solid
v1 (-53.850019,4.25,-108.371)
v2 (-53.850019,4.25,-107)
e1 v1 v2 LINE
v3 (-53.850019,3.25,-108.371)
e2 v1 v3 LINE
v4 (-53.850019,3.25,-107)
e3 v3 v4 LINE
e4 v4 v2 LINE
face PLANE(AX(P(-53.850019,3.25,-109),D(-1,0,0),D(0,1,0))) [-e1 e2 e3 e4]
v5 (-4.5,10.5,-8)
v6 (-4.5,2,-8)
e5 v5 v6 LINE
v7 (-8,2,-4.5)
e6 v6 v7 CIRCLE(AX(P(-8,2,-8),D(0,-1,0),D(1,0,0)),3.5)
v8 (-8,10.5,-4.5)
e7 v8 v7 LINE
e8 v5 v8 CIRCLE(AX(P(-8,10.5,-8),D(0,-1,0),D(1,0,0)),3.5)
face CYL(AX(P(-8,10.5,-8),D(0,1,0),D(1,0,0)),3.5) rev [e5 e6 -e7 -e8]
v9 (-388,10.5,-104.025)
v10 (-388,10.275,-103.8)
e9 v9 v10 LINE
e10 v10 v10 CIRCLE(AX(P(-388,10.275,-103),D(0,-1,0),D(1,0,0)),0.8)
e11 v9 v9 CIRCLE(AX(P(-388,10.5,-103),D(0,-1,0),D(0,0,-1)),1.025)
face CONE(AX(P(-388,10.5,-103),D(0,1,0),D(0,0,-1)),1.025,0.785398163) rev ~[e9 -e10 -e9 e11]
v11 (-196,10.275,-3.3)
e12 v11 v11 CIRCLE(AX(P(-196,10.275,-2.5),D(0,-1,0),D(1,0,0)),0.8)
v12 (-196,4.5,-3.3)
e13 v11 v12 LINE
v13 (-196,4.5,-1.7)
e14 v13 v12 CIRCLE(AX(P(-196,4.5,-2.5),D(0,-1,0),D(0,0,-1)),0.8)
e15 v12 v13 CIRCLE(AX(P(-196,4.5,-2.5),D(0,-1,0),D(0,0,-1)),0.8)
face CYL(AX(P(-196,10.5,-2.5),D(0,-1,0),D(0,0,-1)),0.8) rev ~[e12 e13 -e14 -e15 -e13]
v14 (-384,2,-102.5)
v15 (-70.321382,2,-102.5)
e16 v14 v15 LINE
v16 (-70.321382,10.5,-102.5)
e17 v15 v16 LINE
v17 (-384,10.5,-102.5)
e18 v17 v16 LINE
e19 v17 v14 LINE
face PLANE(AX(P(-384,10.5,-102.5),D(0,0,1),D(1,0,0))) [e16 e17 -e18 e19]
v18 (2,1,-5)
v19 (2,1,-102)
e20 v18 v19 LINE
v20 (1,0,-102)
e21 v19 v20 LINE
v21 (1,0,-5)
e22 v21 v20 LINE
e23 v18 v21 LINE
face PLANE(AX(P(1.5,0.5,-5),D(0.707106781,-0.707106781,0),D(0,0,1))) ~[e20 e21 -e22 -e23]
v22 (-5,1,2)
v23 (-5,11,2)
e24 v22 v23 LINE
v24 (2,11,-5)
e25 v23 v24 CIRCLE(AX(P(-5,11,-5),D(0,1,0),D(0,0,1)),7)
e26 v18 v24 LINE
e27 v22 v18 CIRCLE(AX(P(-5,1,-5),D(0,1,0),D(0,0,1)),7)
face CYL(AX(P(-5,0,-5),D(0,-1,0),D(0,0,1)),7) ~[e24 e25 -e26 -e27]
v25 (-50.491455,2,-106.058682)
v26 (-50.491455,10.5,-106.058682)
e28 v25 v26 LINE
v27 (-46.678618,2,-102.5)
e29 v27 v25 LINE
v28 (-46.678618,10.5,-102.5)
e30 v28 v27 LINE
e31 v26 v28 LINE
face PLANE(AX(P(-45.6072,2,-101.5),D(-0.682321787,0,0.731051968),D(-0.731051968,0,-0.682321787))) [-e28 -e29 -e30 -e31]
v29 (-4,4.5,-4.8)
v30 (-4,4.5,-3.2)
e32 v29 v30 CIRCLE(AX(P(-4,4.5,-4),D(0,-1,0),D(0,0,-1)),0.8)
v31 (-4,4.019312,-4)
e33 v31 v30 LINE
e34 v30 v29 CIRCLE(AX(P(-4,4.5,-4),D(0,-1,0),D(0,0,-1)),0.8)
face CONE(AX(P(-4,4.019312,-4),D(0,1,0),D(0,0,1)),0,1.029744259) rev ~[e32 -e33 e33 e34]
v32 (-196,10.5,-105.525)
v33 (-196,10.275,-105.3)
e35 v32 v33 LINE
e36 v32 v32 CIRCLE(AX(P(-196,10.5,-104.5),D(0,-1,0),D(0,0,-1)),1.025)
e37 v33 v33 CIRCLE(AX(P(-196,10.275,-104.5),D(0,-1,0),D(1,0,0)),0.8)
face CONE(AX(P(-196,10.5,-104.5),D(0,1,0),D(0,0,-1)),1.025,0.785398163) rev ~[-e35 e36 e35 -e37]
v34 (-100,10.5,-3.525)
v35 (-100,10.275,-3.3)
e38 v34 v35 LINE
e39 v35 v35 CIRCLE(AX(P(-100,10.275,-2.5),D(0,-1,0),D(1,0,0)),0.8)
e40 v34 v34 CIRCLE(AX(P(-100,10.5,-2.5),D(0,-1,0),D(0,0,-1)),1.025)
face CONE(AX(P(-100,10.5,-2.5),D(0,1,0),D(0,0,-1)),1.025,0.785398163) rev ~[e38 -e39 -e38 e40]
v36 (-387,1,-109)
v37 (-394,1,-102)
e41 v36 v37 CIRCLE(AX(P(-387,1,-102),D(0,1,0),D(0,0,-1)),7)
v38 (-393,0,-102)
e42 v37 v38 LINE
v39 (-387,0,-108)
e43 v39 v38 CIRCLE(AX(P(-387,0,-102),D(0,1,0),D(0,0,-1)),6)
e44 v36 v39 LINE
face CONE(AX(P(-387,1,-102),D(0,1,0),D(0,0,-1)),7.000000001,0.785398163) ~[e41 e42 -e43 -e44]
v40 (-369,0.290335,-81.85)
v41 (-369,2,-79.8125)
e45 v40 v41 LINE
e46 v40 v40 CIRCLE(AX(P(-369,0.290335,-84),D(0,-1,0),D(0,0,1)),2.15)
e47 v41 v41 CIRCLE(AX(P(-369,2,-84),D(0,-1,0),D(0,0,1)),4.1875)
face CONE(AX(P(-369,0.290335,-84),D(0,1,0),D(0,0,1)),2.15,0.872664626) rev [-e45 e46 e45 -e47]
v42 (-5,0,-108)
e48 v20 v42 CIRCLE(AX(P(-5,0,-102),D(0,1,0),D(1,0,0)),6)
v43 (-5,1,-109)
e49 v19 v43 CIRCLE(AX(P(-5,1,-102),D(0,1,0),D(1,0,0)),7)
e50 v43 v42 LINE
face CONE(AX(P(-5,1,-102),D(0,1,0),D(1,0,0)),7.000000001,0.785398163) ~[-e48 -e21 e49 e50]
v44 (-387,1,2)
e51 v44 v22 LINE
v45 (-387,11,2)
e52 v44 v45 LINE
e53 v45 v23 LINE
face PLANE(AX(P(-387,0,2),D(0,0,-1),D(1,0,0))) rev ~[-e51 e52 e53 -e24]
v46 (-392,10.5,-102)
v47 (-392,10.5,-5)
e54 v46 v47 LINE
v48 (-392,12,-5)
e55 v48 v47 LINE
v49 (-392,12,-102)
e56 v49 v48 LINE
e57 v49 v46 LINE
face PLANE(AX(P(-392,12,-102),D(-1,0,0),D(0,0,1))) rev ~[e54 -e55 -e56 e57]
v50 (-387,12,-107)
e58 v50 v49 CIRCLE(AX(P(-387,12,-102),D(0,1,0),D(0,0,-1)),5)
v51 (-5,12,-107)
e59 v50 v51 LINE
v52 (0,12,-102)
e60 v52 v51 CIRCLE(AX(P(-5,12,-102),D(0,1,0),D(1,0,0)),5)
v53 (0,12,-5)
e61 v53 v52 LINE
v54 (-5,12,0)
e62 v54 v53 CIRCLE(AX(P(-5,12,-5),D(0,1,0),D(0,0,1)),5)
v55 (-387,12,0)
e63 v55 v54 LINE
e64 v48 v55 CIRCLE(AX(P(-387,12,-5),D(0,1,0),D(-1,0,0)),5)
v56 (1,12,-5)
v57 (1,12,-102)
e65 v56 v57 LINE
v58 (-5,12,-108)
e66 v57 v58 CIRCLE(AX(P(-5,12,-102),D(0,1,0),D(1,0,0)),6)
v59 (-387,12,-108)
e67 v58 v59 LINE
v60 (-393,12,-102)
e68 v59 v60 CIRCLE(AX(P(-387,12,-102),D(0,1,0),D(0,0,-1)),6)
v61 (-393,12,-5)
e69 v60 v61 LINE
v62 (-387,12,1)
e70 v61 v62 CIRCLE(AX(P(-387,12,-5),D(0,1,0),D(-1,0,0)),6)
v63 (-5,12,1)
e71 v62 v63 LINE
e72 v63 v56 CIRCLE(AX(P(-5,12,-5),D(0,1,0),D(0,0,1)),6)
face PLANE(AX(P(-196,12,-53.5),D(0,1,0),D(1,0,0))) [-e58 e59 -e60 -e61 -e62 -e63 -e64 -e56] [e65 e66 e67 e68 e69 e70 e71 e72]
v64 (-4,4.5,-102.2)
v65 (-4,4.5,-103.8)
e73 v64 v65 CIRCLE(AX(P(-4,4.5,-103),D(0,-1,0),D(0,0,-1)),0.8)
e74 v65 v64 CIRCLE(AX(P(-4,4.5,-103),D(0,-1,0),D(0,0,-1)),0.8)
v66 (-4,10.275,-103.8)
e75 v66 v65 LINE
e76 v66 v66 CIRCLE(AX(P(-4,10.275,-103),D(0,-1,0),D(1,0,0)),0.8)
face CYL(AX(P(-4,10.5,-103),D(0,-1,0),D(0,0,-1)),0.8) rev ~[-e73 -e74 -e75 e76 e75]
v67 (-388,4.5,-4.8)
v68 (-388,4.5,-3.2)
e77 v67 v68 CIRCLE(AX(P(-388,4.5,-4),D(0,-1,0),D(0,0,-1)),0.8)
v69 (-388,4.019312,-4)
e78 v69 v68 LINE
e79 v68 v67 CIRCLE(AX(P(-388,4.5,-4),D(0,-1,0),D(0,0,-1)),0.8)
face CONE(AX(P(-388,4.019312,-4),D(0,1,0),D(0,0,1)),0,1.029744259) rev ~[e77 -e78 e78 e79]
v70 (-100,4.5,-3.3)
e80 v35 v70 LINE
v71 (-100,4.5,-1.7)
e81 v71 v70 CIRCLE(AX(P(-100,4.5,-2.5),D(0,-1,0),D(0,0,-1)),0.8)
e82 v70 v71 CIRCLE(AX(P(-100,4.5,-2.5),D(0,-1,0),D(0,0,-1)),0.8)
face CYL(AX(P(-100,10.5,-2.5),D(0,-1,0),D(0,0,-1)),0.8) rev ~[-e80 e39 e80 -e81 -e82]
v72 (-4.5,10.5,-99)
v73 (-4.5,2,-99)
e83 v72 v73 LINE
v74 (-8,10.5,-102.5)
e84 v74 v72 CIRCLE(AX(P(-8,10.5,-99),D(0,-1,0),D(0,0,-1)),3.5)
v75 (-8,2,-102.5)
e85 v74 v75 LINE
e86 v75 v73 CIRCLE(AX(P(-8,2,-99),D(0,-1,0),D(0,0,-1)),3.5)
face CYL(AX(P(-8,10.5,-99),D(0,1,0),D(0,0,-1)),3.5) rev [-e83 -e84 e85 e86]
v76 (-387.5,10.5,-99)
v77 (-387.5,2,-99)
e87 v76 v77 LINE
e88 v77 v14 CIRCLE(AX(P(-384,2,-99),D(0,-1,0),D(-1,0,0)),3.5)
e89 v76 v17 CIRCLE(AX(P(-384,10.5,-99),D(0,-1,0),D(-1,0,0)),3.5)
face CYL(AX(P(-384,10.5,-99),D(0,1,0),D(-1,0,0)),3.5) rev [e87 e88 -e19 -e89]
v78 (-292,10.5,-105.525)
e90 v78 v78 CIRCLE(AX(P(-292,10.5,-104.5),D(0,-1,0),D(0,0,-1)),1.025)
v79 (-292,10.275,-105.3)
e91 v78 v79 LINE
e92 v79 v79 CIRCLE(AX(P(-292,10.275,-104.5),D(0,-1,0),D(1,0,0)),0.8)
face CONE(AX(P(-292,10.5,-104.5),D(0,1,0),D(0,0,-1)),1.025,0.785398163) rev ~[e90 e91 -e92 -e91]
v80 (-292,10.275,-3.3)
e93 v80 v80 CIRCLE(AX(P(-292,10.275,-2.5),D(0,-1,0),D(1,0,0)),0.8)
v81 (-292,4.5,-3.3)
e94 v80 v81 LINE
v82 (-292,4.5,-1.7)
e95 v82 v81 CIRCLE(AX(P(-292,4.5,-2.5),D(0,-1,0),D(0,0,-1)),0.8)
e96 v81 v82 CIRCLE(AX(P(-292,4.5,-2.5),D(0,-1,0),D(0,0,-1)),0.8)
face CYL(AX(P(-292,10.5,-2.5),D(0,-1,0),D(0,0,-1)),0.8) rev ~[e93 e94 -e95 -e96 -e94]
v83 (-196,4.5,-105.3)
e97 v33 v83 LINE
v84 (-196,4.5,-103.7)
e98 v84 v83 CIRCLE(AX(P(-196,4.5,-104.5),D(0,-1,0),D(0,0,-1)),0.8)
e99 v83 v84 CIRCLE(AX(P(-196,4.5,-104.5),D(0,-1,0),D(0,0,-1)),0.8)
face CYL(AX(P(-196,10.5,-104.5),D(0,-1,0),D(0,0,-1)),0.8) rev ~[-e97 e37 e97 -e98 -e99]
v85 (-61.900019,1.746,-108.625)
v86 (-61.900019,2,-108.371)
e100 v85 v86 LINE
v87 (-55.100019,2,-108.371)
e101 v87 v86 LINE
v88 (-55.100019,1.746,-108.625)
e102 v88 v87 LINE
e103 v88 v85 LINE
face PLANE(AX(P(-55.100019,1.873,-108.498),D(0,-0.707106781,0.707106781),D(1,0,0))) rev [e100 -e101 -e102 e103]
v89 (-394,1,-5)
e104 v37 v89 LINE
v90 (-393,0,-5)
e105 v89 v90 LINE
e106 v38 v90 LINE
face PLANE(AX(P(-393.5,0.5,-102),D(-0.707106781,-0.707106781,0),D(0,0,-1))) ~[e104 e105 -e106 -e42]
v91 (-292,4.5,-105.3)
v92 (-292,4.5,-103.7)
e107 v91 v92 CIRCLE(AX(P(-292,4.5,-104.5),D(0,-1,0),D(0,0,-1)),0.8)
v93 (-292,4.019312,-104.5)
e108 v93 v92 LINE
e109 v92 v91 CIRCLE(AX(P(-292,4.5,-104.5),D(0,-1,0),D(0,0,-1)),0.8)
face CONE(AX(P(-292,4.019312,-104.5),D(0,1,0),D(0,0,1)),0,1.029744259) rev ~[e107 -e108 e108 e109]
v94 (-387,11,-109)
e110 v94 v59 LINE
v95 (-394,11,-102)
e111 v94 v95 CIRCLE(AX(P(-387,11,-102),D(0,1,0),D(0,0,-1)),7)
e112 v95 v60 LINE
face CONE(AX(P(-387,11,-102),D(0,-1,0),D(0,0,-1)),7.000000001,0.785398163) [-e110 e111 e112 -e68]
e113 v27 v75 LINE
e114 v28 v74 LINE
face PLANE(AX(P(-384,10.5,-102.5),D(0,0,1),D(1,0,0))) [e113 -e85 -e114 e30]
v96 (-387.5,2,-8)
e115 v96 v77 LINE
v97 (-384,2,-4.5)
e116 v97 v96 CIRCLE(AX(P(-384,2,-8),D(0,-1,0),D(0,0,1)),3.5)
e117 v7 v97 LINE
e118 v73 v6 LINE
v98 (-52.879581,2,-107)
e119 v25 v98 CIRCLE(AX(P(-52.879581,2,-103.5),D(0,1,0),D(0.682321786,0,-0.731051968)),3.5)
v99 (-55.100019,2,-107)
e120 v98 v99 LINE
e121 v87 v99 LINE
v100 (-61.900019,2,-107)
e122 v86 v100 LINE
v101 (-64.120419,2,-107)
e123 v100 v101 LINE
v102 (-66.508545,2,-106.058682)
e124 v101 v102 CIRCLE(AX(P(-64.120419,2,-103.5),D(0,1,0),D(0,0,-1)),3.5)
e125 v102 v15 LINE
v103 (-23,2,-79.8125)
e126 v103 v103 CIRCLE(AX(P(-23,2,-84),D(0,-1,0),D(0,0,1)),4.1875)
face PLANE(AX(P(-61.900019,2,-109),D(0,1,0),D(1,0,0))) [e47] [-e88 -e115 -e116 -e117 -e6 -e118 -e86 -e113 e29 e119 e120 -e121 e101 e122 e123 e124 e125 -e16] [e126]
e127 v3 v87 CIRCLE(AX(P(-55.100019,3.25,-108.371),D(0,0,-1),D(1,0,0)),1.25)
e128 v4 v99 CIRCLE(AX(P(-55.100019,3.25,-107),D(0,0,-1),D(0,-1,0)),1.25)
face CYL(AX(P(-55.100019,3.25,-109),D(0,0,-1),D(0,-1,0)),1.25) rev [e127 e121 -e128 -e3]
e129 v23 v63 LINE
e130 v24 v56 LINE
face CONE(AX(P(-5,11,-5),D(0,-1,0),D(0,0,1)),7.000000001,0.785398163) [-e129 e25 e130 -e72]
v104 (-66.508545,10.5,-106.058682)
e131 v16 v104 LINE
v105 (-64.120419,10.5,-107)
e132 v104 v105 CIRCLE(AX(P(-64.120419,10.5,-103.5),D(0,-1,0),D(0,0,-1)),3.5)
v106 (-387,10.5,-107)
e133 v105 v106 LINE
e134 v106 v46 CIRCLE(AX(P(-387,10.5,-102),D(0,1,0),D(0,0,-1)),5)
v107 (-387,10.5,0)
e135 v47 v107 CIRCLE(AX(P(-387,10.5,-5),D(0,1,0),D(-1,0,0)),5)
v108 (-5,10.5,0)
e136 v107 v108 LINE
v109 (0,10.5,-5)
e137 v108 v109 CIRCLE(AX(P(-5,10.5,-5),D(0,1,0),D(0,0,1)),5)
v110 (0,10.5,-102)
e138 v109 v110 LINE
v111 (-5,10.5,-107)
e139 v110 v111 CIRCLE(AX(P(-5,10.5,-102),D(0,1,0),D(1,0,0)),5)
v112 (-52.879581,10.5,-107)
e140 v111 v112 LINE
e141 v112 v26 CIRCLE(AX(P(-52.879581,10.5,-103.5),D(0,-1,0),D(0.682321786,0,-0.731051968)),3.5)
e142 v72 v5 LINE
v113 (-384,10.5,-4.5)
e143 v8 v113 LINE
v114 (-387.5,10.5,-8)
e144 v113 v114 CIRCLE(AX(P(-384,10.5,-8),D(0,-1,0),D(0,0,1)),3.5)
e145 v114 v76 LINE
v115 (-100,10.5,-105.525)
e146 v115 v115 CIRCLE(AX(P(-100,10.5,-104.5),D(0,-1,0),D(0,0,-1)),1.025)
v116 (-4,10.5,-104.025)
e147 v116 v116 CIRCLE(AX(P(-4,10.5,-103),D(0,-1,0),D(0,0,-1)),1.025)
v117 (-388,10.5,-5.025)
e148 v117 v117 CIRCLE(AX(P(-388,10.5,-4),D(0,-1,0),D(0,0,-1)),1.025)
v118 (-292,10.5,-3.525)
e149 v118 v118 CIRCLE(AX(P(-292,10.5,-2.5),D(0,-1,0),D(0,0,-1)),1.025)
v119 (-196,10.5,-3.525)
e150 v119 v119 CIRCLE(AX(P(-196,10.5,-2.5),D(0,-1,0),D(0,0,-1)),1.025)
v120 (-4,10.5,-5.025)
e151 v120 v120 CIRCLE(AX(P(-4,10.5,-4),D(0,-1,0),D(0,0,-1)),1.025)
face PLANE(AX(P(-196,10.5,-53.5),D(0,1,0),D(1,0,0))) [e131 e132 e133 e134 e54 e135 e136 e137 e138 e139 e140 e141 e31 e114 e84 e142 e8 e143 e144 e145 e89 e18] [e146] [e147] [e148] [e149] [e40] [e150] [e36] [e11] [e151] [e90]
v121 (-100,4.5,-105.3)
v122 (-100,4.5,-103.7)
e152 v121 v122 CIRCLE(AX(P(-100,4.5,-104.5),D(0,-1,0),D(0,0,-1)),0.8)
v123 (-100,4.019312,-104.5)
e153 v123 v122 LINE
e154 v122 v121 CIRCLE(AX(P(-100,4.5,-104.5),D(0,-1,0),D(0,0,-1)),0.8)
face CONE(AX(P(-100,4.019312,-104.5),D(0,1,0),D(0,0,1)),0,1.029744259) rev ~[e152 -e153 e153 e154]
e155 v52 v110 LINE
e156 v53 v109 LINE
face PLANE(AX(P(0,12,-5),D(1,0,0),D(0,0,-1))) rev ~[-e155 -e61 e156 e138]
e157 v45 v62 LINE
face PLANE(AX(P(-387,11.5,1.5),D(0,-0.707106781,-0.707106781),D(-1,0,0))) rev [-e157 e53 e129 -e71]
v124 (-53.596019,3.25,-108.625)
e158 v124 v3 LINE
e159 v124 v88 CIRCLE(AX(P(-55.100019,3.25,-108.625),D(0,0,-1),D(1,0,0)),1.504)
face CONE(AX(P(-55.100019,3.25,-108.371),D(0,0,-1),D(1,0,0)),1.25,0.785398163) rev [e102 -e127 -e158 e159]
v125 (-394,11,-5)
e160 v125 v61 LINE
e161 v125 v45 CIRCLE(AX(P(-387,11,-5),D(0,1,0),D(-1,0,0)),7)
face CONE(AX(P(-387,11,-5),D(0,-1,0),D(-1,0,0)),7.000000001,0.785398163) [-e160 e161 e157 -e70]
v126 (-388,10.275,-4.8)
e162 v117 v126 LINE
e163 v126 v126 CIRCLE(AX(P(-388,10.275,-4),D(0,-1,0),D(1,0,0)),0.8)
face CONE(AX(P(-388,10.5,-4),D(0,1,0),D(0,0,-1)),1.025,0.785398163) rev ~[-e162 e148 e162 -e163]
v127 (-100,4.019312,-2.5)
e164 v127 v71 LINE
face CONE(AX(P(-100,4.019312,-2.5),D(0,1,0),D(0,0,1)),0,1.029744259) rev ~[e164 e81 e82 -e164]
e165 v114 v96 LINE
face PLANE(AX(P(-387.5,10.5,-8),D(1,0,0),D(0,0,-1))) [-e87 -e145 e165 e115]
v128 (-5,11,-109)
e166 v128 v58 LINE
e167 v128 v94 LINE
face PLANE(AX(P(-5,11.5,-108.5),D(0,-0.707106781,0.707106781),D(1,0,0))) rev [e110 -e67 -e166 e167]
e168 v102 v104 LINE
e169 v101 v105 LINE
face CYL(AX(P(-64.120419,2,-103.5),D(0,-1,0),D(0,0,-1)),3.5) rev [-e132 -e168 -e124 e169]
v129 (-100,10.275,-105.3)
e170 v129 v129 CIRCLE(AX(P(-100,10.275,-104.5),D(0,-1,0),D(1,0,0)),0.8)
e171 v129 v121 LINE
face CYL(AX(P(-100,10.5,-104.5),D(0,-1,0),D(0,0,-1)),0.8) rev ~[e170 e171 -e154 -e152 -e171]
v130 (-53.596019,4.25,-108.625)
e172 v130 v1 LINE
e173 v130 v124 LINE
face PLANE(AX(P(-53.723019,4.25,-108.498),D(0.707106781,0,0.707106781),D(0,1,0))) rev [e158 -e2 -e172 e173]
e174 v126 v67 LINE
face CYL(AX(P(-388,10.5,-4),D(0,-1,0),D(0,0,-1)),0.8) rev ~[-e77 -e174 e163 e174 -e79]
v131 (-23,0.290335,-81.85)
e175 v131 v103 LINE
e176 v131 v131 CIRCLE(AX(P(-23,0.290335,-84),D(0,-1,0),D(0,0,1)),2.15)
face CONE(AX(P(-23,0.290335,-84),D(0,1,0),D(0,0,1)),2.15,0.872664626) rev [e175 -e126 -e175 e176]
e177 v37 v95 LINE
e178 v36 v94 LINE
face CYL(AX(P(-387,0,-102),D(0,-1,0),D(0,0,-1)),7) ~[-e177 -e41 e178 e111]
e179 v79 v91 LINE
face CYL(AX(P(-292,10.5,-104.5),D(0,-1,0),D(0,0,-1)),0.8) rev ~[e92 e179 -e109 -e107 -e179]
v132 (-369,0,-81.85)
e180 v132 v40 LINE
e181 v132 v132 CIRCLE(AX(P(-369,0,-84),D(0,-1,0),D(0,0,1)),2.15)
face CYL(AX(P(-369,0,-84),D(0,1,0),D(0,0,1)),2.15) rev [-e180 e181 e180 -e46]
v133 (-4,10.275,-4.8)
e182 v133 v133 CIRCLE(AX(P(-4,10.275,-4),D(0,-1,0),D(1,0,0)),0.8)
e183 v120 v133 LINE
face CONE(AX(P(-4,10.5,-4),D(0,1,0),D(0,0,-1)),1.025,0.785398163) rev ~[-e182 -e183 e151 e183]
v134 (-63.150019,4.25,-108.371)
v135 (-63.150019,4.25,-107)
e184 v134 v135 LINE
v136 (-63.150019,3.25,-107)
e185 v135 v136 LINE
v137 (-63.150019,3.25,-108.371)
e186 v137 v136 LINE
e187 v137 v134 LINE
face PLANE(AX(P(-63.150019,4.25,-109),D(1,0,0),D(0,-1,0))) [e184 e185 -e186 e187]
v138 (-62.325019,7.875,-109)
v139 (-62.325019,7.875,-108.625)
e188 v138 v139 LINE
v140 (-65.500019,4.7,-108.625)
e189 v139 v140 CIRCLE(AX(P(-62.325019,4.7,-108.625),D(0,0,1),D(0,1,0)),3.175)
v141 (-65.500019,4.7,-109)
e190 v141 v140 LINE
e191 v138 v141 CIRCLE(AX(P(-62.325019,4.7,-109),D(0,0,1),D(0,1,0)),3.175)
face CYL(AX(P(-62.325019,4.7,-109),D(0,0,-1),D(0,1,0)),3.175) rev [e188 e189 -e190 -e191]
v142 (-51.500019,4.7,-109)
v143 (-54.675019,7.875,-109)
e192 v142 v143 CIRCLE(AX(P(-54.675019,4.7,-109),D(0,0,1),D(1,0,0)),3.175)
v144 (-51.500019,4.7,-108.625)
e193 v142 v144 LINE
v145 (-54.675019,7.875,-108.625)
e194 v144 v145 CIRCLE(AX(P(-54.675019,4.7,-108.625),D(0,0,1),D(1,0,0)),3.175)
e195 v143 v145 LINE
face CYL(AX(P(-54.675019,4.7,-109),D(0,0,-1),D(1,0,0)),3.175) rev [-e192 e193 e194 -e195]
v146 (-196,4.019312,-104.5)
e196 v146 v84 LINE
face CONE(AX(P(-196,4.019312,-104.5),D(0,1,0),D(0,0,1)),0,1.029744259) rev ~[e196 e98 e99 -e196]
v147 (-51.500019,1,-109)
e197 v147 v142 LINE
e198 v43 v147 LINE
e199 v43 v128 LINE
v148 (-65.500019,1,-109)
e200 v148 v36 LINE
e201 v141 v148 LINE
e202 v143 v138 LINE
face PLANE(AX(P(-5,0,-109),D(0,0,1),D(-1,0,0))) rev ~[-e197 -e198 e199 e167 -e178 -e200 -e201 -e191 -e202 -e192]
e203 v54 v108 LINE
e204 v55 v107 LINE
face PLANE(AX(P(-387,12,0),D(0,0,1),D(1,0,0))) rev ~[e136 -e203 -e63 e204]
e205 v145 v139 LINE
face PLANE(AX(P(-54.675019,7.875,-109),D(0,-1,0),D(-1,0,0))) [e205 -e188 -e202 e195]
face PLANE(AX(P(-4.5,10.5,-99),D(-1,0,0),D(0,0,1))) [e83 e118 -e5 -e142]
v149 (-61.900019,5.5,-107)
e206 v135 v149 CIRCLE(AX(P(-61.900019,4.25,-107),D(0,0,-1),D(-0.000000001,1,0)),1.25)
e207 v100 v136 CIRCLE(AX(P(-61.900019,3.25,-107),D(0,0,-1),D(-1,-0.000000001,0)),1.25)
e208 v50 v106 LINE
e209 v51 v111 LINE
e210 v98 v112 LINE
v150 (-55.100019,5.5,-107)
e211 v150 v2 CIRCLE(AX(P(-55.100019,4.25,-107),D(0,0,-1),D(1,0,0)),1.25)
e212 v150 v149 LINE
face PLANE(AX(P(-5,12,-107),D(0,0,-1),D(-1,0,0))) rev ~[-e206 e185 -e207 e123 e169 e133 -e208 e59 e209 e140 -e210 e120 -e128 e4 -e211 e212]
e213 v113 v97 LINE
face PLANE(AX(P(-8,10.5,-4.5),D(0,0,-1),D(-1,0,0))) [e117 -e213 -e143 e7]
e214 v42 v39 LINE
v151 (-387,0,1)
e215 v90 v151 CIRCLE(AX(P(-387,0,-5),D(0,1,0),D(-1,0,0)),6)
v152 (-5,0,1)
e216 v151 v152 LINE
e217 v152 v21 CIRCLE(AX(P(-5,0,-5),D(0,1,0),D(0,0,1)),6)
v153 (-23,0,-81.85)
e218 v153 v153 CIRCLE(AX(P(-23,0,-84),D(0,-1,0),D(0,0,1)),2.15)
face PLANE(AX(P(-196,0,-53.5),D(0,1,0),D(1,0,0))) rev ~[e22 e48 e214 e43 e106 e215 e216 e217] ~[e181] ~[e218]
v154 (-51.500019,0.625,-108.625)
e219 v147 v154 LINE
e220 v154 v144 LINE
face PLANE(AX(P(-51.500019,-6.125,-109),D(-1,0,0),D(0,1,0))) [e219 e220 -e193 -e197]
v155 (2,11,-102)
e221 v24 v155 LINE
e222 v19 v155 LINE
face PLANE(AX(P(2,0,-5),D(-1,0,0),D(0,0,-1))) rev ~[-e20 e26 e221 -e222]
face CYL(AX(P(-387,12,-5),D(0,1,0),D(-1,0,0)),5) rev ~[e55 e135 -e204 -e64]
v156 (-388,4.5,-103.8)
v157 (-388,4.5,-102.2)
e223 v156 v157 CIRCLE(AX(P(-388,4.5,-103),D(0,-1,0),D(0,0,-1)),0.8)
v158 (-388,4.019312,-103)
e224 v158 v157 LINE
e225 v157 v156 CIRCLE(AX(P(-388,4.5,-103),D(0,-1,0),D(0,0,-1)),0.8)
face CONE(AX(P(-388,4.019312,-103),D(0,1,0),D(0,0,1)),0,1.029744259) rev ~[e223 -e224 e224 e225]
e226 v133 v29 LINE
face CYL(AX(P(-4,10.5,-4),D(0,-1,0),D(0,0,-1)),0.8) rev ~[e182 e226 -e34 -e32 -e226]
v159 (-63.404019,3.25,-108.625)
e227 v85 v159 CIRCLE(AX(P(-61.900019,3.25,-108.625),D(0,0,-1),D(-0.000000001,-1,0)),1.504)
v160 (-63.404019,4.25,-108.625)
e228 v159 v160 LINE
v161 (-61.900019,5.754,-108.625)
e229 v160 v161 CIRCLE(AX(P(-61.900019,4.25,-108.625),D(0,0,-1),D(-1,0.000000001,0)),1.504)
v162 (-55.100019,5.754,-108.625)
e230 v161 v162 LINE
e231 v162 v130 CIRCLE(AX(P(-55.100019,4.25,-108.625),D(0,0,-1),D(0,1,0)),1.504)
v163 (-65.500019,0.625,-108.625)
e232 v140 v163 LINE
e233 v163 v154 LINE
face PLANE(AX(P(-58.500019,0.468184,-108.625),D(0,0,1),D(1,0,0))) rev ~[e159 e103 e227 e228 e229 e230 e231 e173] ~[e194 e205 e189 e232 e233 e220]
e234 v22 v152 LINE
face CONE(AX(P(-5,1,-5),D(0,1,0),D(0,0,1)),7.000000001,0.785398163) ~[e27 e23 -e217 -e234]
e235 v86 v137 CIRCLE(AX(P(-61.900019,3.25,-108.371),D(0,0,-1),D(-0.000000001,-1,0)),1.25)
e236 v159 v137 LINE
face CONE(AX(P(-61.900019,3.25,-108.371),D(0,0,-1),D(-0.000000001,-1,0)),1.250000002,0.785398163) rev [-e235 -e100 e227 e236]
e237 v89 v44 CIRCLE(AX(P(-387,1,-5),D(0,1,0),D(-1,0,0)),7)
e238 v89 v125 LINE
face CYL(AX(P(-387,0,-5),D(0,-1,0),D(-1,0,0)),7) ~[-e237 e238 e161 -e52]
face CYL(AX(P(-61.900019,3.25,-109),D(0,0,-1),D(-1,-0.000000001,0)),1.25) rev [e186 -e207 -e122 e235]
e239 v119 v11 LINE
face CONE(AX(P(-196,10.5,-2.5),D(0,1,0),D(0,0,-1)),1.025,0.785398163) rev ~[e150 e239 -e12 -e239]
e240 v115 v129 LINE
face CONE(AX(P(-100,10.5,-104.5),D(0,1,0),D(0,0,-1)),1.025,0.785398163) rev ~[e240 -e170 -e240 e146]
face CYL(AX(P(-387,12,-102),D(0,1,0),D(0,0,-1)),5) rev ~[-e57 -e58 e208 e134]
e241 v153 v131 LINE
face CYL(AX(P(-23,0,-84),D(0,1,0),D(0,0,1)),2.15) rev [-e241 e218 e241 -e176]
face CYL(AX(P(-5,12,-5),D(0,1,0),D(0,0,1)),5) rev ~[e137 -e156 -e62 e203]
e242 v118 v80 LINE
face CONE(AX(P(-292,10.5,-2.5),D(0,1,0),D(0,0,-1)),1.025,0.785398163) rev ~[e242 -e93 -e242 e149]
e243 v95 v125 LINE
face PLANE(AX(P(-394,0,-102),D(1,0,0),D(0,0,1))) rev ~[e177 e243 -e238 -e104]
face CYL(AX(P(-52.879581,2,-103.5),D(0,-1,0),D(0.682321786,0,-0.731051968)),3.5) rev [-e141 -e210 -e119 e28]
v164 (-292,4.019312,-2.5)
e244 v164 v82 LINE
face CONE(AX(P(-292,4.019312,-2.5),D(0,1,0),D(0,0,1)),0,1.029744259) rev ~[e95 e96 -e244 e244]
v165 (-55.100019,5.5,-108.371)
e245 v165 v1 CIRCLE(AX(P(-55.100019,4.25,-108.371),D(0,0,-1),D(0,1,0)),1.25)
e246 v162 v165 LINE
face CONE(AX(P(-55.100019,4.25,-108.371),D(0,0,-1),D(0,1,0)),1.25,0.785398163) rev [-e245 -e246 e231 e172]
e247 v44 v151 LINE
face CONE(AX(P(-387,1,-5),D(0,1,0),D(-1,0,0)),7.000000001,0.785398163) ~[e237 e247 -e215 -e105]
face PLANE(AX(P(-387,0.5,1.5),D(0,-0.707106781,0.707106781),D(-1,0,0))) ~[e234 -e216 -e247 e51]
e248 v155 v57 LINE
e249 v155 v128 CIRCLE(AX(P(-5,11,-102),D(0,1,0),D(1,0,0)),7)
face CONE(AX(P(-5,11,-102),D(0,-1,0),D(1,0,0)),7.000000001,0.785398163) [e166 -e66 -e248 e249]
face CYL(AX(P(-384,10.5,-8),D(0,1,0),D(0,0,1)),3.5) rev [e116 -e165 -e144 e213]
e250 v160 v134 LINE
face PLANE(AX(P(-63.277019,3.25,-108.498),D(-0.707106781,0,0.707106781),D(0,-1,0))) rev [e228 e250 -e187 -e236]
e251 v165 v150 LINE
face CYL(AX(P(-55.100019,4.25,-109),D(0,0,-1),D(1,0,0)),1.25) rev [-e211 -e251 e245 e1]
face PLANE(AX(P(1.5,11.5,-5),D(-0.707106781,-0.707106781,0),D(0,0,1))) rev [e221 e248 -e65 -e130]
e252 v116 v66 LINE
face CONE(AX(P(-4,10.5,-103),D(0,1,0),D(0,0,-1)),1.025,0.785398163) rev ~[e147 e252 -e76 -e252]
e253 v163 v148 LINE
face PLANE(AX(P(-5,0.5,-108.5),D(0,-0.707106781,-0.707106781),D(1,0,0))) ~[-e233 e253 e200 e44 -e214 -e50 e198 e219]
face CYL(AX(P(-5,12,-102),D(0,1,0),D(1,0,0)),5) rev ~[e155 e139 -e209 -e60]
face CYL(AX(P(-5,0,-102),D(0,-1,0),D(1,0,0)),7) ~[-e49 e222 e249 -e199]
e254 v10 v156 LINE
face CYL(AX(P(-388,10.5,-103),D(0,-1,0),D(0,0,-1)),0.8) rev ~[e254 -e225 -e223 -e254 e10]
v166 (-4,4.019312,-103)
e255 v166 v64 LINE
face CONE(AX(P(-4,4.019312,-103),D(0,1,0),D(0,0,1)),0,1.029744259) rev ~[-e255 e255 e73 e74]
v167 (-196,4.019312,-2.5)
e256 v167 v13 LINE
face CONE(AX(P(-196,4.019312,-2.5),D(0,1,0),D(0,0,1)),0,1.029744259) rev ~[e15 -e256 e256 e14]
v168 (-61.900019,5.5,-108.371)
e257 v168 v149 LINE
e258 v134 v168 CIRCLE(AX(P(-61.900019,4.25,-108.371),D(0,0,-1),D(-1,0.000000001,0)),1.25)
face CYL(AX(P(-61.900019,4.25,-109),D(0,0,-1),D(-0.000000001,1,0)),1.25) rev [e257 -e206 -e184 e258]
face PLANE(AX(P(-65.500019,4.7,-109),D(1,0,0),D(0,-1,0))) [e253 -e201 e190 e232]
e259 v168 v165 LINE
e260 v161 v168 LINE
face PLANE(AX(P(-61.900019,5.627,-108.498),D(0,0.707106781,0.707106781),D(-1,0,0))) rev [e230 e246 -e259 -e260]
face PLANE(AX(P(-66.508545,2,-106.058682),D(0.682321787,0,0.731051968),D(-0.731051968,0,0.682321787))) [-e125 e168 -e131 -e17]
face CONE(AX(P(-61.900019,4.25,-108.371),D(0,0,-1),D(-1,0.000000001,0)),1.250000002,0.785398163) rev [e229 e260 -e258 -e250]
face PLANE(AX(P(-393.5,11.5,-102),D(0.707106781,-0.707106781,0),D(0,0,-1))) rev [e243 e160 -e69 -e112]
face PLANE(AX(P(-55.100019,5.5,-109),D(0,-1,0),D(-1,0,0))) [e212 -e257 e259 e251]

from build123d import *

# Parameters (mm, degrees)
BOSS_EXTRUDE1_DEPTH                            = 12
CUT_EXTRUDE1_DEPTH                             = 1.5
CUT_EXTRUDE2_DEPTH                             = 8.5
M2X0_4_TAPPED_HOLE1_D                          = 1.6
M2X0_4_TAPPED_HOLE1_DEPTH                      = 6
M2X0_4_TAPPED_HOLE1_CSINK_D                    = 2.05
M2X0_4_TAPPED_HOLE1_CSINK_ANGLE                = 90
M2X0_4_TAPPED_HOLE1_TIP                        = 0.480688495
CSK_FOR_M4_FLAT_HEAD_MACHINE_SCREW2_AT_2_COUNT = 2
CSK_FOR_M4_FLAT_HEAD_MACHINE_SCREW2_AT_2_PITCH = 346
CHAMFER1_SIZE                                  = 1
CUT_EXTRUDE3_DEPTH                             = 10
CUT_EXTRUDE4_DEPTH                             = 10
CUT_EXTRUDE5_DEPTH                             = 0.375
CHAMFER3_SIZE                                  = 0.254


with BuildPart() as part:
    # Sketch1 → Boss-Extrude1 (new body)
    with BuildSketch(Plane(origin=(0, 0, 0), x_dir=(1, 0, 0), z_dir=(0, 1, 0))):
        with BuildLine():
            Line((-5, 109), (-387, 109))
            ThreePointArc((-387, 109), (-391.949747468, 106.949747468), (-394, 102))
            Line((-394, 102), (-394, 5))
            ThreePointArc((-394, 5), (-391.949747468, 0.050252532), (-387, -2))
            Line((-387, -2), (-5, -2))
            ThreePointArc((-5, -2), (-0.050252532, 0.050252532), (2, 5))
            Line((2, 5), (2, 102))
            ThreePointArc((2, 102), (-0.050252532, 106.949747468), (-5, 109))
        make_face()
    extrude(amount=BOSS_EXTRUDE1_DEPTH)

    # Sketch2 → Cut-Extrude1 (cut)
    with BuildSketch(Plane(origin=(0, 12, 0), x_dir=(1, 0, 0), z_dir=(0, 1, 0))):
        with BuildLine():
            Line((0, 5), (0, 102))
            ThreePointArc((0, 102), (-1.464466094, 105.535533906), (-5, 107))
            Line((-5, 107), (-387, 107))
            ThreePointArc((-387, 107), (-390.535533906, 105.535533906), (-392, 102))
            Line((-392, 102), (-392, 5))
            ThreePointArc((-392, 5), (-390.535533906, 1.464466094), (-387, 0))
            Line((-387, 0), (-5, 0))
            ThreePointArc((-5, 0), (-1.464466094, 1.464466094), (0, 5))
        make_face()
    extrude(amount=-CUT_EXTRUDE1_DEPTH, mode=Mode.SUBTRACT)

    # Sketch3 → Cut-Extrude2 (cut)
    with BuildSketch(Plane(origin=(0, 10.5, 0), x_dir=(1, 0, 0), z_dir=(0, 1, 0))):
        with BuildLine():
            Line((-384, 102.5), (-8, 102.5))
            ThreePointArc((-8, 102.5), (-5.525126266, 101.474873734), (-4.5, 99))
            Line((-4.5, 99), (-4.5, 8))
            ThreePointArc((-4.5, 8), (-5.525126266, 5.525126266), (-8, 4.5))
            Line((-8, 4.5), (-384, 4.5))
            ThreePointArc((-384, 4.5), (-386.474873734, 5.525126266), (-387.5, 8))
            Line((-387.5, 8), (-387.5, 99))
            ThreePointArc((-387.5, 99), (-386.474873734, 101.474873734), (-384, 102.5))
        make_face()
    extrude(amount=-CUT_EXTRUDE2_DEPTH, mode=Mode.SUBTRACT)

    # M2x0.4 Tapped Hole1
    with Locations(Plane(origin=(-388, 10.5, -103), x_dir=(0, 0, 1), z_dir=(0, 1, 0))):
        with Locations((0, 0), (-1.5, 96), (-1.5, 192), (-1.5, 288), (0, 384), (99, 384), (100.5, 288), (100.5, 192), (100.5, 96), (99, 0)):
            CounterSinkHole(M2X0_4_TAPPED_HOLE1_D / 2, M2X0_4_TAPPED_HOLE1_CSINK_D / 2, depth=M2X0_4_TAPPED_HOLE1_DEPTH, counter_sink_angle=M2X0_4_TAPPED_HOLE1_CSINK_ANGLE)
            with Locations((0, 0, -(M2X0_4_TAPPED_HOLE1_DEPTH + M2X0_4_TAPPED_HOLE1_TIP / 2))):  # 118° drill point
                Cone(0, M2X0_4_TAPPED_HOLE1_D / 2, M2X0_4_TAPPED_HOLE1_TIP, mode=Mode.SUBTRACT)

    # Sketch19 → CSK for M4 Flat Head Machine Screw2 (revolve, cut)
    with BuildSketch(Plane(origin=(-369, 2, -84), x_dir=(0, 0, 1), z_dir=(1, 0, 0))):
        Polygon((0, 0), (0, 2), (2.15, 2), (2.15, 1.709665499), (4.1875, 0), align=None)
    csk_for_m4_flat_head_machine_screw2 = revolve(axis=Axis((-369, 8.35, -84), (0, -1, 0)), mode=Mode.SUBTRACT)

    # CSK for M4 Flat Head Machine Screw2 at 2: CSK for M4 Flat Head Machine Screw2 ×2
    with Locations(*[(i * CSK_FOR_M4_FLAT_HEAD_MACHINE_SCREW2_AT_2_PITCH, 0, 0) for i in range(1, CSK_FOR_M4_FLAT_HEAD_MACHINE_SCREW2_AT_2_COUNT)]):
        add(csk_for_m4_flat_head_machine_screw2, mode=Mode.SUBTRACT)

    # Chamfer1
    chamfer1_edges = [part.edges().sort_by_distance(p)[0] for p in [
        (-391.949747468, 12, -106.949747468),
        (-196, 0, -109),
        (-0.050252532, 0, -106.949747468),
        (-394, 12, -53.5),
        (-391.949747468, 12, -0.050252532),
        (-196, 12, 2),
        (-0.050252532, 12, -0.050252532),
        (2, 12, -53.5),
        (-0.050252532, 12, -106.949747468),
        (-196, 12, -109),
        (2, 0, -53.5),
        (-0.050252532, 0, -0.050252532),
        (-196, 0, 2),
        (-391.949747468, 0, -0.050252532),
        (-394, 0, -53.5),
        (-391.949747468, 0, -106.949747468),
    ]]
    chamfer(chamfer1_edges, length=CHAMFER1_SIZE)

    # Sketch20 → Cut-Extrude3 (cut)
    with BuildSketch(Plane(origin=(0, 2, 0), x_dir=(1, 0, 0), z_dir=(0, 1, 0))):
        with BuildLine():
            Line((-45.6072, 101.5), (-50.491454659, 106.058681888))
            ThreePointArc((-50.491454659, 106.058681888), (-51.596106449, 106.756177714), (-52.879580912, 107))
            Line((-52.879580912, 107), (-64.120419088, 107))
            ThreePointArc((-64.120419088, 107), (-65.403893551, 106.756177714), (-66.508545341, 106.058681888))
            Line((-66.508545341, 106.058681888), (-71.3928, 101.5))
            Line((-71.3928, 101.5), (-45.6072, 101.5))
        make_face()
    extrude(amount=CUT_EXTRUDE3_DEPTH, mode=Mode.SUBTRACT)

    # Sketch21 → Cut-Extrude4 (cut)
    with BuildSketch(Plane(origin=(0, 0, -109), x_dir=(-1, 0, 0), z_dir=(0, 0, -1))):
        with BuildLine():
            Line((55.100019088, 5.5), (61.900019088, 5.5))
            ThreePointArc((61.900019088, 5.5), (62.783902564, 5.133883476), (63.150019088, 4.25))
            Line((63.150019088, 4.25), (63.150019088, 3.25))
            ThreePointArc((63.150019088, 3.25), (62.783902564, 2.366116524), (61.900019088, 2))
            Line((61.900019088, 2), (55.100019088, 2))
            ThreePointArc((55.100019088, 2), (54.216135611, 2.366116524), (53.850019088, 3.25))
            Line((53.850019088, 3.25), (53.850019088, 4.25))
            ThreePointArc((53.850019088, 4.25), (54.216135611, 5.133883476), (55.100019088, 5.5))
        make_face()
    extrude(amount=-CUT_EXTRUDE4_DEPTH, mode=Mode.SUBTRACT)

    # Sketch22 → Cut-Extrude5 (cut)
    with BuildSketch(Plane(origin=(0, 0, -109), x_dir=(-1, 0, 0), z_dir=(0, 0, -1))):
        with BuildLine():
            Line((51.500019088, -6.125), (51.500019088, 4.7))
            ThreePointArc((51.500019088, 4.7), (52.429955058, 6.94506403), (54.675019088, 7.875))
            Line((54.675019088, 7.875), (62.325019088, 7.875))
            ThreePointArc((62.325019088, 7.875), (64.570083118, 6.94506403), (65.500019088, 4.7))
            Line((65.500019088, 4.7), (65.500019088, -6.125))
            Line((65.500019088, -6.125), (51.500019088, -6.125))
        make_face()
    extrude(amount=-CUT_EXTRUDE5_DEPTH, mode=Mode.SUBTRACT)

    # Chamfer3
    chamfer3_edges = [part.edges().sort_by_distance(p)[0] for p in [
        (-54.216135611, 2.366116524, -108.625),
        (-58.500019088, 5.5, -108.625),
        (-54.216135611, 5.133883476, -108.625),
        (-53.850019088, 3.75, -108.625),
        (-58.500019088, 2, -108.625),
        (-62.783902564, 2.366116524, -108.625),
        (-63.150019088, 3.75, -108.625),
        (-62.783902564, 5.133883476, -108.625),
    ]]
    chamfer(chamfer3_edges, length=CHAMFER3_SIZE)


solid = part.part
